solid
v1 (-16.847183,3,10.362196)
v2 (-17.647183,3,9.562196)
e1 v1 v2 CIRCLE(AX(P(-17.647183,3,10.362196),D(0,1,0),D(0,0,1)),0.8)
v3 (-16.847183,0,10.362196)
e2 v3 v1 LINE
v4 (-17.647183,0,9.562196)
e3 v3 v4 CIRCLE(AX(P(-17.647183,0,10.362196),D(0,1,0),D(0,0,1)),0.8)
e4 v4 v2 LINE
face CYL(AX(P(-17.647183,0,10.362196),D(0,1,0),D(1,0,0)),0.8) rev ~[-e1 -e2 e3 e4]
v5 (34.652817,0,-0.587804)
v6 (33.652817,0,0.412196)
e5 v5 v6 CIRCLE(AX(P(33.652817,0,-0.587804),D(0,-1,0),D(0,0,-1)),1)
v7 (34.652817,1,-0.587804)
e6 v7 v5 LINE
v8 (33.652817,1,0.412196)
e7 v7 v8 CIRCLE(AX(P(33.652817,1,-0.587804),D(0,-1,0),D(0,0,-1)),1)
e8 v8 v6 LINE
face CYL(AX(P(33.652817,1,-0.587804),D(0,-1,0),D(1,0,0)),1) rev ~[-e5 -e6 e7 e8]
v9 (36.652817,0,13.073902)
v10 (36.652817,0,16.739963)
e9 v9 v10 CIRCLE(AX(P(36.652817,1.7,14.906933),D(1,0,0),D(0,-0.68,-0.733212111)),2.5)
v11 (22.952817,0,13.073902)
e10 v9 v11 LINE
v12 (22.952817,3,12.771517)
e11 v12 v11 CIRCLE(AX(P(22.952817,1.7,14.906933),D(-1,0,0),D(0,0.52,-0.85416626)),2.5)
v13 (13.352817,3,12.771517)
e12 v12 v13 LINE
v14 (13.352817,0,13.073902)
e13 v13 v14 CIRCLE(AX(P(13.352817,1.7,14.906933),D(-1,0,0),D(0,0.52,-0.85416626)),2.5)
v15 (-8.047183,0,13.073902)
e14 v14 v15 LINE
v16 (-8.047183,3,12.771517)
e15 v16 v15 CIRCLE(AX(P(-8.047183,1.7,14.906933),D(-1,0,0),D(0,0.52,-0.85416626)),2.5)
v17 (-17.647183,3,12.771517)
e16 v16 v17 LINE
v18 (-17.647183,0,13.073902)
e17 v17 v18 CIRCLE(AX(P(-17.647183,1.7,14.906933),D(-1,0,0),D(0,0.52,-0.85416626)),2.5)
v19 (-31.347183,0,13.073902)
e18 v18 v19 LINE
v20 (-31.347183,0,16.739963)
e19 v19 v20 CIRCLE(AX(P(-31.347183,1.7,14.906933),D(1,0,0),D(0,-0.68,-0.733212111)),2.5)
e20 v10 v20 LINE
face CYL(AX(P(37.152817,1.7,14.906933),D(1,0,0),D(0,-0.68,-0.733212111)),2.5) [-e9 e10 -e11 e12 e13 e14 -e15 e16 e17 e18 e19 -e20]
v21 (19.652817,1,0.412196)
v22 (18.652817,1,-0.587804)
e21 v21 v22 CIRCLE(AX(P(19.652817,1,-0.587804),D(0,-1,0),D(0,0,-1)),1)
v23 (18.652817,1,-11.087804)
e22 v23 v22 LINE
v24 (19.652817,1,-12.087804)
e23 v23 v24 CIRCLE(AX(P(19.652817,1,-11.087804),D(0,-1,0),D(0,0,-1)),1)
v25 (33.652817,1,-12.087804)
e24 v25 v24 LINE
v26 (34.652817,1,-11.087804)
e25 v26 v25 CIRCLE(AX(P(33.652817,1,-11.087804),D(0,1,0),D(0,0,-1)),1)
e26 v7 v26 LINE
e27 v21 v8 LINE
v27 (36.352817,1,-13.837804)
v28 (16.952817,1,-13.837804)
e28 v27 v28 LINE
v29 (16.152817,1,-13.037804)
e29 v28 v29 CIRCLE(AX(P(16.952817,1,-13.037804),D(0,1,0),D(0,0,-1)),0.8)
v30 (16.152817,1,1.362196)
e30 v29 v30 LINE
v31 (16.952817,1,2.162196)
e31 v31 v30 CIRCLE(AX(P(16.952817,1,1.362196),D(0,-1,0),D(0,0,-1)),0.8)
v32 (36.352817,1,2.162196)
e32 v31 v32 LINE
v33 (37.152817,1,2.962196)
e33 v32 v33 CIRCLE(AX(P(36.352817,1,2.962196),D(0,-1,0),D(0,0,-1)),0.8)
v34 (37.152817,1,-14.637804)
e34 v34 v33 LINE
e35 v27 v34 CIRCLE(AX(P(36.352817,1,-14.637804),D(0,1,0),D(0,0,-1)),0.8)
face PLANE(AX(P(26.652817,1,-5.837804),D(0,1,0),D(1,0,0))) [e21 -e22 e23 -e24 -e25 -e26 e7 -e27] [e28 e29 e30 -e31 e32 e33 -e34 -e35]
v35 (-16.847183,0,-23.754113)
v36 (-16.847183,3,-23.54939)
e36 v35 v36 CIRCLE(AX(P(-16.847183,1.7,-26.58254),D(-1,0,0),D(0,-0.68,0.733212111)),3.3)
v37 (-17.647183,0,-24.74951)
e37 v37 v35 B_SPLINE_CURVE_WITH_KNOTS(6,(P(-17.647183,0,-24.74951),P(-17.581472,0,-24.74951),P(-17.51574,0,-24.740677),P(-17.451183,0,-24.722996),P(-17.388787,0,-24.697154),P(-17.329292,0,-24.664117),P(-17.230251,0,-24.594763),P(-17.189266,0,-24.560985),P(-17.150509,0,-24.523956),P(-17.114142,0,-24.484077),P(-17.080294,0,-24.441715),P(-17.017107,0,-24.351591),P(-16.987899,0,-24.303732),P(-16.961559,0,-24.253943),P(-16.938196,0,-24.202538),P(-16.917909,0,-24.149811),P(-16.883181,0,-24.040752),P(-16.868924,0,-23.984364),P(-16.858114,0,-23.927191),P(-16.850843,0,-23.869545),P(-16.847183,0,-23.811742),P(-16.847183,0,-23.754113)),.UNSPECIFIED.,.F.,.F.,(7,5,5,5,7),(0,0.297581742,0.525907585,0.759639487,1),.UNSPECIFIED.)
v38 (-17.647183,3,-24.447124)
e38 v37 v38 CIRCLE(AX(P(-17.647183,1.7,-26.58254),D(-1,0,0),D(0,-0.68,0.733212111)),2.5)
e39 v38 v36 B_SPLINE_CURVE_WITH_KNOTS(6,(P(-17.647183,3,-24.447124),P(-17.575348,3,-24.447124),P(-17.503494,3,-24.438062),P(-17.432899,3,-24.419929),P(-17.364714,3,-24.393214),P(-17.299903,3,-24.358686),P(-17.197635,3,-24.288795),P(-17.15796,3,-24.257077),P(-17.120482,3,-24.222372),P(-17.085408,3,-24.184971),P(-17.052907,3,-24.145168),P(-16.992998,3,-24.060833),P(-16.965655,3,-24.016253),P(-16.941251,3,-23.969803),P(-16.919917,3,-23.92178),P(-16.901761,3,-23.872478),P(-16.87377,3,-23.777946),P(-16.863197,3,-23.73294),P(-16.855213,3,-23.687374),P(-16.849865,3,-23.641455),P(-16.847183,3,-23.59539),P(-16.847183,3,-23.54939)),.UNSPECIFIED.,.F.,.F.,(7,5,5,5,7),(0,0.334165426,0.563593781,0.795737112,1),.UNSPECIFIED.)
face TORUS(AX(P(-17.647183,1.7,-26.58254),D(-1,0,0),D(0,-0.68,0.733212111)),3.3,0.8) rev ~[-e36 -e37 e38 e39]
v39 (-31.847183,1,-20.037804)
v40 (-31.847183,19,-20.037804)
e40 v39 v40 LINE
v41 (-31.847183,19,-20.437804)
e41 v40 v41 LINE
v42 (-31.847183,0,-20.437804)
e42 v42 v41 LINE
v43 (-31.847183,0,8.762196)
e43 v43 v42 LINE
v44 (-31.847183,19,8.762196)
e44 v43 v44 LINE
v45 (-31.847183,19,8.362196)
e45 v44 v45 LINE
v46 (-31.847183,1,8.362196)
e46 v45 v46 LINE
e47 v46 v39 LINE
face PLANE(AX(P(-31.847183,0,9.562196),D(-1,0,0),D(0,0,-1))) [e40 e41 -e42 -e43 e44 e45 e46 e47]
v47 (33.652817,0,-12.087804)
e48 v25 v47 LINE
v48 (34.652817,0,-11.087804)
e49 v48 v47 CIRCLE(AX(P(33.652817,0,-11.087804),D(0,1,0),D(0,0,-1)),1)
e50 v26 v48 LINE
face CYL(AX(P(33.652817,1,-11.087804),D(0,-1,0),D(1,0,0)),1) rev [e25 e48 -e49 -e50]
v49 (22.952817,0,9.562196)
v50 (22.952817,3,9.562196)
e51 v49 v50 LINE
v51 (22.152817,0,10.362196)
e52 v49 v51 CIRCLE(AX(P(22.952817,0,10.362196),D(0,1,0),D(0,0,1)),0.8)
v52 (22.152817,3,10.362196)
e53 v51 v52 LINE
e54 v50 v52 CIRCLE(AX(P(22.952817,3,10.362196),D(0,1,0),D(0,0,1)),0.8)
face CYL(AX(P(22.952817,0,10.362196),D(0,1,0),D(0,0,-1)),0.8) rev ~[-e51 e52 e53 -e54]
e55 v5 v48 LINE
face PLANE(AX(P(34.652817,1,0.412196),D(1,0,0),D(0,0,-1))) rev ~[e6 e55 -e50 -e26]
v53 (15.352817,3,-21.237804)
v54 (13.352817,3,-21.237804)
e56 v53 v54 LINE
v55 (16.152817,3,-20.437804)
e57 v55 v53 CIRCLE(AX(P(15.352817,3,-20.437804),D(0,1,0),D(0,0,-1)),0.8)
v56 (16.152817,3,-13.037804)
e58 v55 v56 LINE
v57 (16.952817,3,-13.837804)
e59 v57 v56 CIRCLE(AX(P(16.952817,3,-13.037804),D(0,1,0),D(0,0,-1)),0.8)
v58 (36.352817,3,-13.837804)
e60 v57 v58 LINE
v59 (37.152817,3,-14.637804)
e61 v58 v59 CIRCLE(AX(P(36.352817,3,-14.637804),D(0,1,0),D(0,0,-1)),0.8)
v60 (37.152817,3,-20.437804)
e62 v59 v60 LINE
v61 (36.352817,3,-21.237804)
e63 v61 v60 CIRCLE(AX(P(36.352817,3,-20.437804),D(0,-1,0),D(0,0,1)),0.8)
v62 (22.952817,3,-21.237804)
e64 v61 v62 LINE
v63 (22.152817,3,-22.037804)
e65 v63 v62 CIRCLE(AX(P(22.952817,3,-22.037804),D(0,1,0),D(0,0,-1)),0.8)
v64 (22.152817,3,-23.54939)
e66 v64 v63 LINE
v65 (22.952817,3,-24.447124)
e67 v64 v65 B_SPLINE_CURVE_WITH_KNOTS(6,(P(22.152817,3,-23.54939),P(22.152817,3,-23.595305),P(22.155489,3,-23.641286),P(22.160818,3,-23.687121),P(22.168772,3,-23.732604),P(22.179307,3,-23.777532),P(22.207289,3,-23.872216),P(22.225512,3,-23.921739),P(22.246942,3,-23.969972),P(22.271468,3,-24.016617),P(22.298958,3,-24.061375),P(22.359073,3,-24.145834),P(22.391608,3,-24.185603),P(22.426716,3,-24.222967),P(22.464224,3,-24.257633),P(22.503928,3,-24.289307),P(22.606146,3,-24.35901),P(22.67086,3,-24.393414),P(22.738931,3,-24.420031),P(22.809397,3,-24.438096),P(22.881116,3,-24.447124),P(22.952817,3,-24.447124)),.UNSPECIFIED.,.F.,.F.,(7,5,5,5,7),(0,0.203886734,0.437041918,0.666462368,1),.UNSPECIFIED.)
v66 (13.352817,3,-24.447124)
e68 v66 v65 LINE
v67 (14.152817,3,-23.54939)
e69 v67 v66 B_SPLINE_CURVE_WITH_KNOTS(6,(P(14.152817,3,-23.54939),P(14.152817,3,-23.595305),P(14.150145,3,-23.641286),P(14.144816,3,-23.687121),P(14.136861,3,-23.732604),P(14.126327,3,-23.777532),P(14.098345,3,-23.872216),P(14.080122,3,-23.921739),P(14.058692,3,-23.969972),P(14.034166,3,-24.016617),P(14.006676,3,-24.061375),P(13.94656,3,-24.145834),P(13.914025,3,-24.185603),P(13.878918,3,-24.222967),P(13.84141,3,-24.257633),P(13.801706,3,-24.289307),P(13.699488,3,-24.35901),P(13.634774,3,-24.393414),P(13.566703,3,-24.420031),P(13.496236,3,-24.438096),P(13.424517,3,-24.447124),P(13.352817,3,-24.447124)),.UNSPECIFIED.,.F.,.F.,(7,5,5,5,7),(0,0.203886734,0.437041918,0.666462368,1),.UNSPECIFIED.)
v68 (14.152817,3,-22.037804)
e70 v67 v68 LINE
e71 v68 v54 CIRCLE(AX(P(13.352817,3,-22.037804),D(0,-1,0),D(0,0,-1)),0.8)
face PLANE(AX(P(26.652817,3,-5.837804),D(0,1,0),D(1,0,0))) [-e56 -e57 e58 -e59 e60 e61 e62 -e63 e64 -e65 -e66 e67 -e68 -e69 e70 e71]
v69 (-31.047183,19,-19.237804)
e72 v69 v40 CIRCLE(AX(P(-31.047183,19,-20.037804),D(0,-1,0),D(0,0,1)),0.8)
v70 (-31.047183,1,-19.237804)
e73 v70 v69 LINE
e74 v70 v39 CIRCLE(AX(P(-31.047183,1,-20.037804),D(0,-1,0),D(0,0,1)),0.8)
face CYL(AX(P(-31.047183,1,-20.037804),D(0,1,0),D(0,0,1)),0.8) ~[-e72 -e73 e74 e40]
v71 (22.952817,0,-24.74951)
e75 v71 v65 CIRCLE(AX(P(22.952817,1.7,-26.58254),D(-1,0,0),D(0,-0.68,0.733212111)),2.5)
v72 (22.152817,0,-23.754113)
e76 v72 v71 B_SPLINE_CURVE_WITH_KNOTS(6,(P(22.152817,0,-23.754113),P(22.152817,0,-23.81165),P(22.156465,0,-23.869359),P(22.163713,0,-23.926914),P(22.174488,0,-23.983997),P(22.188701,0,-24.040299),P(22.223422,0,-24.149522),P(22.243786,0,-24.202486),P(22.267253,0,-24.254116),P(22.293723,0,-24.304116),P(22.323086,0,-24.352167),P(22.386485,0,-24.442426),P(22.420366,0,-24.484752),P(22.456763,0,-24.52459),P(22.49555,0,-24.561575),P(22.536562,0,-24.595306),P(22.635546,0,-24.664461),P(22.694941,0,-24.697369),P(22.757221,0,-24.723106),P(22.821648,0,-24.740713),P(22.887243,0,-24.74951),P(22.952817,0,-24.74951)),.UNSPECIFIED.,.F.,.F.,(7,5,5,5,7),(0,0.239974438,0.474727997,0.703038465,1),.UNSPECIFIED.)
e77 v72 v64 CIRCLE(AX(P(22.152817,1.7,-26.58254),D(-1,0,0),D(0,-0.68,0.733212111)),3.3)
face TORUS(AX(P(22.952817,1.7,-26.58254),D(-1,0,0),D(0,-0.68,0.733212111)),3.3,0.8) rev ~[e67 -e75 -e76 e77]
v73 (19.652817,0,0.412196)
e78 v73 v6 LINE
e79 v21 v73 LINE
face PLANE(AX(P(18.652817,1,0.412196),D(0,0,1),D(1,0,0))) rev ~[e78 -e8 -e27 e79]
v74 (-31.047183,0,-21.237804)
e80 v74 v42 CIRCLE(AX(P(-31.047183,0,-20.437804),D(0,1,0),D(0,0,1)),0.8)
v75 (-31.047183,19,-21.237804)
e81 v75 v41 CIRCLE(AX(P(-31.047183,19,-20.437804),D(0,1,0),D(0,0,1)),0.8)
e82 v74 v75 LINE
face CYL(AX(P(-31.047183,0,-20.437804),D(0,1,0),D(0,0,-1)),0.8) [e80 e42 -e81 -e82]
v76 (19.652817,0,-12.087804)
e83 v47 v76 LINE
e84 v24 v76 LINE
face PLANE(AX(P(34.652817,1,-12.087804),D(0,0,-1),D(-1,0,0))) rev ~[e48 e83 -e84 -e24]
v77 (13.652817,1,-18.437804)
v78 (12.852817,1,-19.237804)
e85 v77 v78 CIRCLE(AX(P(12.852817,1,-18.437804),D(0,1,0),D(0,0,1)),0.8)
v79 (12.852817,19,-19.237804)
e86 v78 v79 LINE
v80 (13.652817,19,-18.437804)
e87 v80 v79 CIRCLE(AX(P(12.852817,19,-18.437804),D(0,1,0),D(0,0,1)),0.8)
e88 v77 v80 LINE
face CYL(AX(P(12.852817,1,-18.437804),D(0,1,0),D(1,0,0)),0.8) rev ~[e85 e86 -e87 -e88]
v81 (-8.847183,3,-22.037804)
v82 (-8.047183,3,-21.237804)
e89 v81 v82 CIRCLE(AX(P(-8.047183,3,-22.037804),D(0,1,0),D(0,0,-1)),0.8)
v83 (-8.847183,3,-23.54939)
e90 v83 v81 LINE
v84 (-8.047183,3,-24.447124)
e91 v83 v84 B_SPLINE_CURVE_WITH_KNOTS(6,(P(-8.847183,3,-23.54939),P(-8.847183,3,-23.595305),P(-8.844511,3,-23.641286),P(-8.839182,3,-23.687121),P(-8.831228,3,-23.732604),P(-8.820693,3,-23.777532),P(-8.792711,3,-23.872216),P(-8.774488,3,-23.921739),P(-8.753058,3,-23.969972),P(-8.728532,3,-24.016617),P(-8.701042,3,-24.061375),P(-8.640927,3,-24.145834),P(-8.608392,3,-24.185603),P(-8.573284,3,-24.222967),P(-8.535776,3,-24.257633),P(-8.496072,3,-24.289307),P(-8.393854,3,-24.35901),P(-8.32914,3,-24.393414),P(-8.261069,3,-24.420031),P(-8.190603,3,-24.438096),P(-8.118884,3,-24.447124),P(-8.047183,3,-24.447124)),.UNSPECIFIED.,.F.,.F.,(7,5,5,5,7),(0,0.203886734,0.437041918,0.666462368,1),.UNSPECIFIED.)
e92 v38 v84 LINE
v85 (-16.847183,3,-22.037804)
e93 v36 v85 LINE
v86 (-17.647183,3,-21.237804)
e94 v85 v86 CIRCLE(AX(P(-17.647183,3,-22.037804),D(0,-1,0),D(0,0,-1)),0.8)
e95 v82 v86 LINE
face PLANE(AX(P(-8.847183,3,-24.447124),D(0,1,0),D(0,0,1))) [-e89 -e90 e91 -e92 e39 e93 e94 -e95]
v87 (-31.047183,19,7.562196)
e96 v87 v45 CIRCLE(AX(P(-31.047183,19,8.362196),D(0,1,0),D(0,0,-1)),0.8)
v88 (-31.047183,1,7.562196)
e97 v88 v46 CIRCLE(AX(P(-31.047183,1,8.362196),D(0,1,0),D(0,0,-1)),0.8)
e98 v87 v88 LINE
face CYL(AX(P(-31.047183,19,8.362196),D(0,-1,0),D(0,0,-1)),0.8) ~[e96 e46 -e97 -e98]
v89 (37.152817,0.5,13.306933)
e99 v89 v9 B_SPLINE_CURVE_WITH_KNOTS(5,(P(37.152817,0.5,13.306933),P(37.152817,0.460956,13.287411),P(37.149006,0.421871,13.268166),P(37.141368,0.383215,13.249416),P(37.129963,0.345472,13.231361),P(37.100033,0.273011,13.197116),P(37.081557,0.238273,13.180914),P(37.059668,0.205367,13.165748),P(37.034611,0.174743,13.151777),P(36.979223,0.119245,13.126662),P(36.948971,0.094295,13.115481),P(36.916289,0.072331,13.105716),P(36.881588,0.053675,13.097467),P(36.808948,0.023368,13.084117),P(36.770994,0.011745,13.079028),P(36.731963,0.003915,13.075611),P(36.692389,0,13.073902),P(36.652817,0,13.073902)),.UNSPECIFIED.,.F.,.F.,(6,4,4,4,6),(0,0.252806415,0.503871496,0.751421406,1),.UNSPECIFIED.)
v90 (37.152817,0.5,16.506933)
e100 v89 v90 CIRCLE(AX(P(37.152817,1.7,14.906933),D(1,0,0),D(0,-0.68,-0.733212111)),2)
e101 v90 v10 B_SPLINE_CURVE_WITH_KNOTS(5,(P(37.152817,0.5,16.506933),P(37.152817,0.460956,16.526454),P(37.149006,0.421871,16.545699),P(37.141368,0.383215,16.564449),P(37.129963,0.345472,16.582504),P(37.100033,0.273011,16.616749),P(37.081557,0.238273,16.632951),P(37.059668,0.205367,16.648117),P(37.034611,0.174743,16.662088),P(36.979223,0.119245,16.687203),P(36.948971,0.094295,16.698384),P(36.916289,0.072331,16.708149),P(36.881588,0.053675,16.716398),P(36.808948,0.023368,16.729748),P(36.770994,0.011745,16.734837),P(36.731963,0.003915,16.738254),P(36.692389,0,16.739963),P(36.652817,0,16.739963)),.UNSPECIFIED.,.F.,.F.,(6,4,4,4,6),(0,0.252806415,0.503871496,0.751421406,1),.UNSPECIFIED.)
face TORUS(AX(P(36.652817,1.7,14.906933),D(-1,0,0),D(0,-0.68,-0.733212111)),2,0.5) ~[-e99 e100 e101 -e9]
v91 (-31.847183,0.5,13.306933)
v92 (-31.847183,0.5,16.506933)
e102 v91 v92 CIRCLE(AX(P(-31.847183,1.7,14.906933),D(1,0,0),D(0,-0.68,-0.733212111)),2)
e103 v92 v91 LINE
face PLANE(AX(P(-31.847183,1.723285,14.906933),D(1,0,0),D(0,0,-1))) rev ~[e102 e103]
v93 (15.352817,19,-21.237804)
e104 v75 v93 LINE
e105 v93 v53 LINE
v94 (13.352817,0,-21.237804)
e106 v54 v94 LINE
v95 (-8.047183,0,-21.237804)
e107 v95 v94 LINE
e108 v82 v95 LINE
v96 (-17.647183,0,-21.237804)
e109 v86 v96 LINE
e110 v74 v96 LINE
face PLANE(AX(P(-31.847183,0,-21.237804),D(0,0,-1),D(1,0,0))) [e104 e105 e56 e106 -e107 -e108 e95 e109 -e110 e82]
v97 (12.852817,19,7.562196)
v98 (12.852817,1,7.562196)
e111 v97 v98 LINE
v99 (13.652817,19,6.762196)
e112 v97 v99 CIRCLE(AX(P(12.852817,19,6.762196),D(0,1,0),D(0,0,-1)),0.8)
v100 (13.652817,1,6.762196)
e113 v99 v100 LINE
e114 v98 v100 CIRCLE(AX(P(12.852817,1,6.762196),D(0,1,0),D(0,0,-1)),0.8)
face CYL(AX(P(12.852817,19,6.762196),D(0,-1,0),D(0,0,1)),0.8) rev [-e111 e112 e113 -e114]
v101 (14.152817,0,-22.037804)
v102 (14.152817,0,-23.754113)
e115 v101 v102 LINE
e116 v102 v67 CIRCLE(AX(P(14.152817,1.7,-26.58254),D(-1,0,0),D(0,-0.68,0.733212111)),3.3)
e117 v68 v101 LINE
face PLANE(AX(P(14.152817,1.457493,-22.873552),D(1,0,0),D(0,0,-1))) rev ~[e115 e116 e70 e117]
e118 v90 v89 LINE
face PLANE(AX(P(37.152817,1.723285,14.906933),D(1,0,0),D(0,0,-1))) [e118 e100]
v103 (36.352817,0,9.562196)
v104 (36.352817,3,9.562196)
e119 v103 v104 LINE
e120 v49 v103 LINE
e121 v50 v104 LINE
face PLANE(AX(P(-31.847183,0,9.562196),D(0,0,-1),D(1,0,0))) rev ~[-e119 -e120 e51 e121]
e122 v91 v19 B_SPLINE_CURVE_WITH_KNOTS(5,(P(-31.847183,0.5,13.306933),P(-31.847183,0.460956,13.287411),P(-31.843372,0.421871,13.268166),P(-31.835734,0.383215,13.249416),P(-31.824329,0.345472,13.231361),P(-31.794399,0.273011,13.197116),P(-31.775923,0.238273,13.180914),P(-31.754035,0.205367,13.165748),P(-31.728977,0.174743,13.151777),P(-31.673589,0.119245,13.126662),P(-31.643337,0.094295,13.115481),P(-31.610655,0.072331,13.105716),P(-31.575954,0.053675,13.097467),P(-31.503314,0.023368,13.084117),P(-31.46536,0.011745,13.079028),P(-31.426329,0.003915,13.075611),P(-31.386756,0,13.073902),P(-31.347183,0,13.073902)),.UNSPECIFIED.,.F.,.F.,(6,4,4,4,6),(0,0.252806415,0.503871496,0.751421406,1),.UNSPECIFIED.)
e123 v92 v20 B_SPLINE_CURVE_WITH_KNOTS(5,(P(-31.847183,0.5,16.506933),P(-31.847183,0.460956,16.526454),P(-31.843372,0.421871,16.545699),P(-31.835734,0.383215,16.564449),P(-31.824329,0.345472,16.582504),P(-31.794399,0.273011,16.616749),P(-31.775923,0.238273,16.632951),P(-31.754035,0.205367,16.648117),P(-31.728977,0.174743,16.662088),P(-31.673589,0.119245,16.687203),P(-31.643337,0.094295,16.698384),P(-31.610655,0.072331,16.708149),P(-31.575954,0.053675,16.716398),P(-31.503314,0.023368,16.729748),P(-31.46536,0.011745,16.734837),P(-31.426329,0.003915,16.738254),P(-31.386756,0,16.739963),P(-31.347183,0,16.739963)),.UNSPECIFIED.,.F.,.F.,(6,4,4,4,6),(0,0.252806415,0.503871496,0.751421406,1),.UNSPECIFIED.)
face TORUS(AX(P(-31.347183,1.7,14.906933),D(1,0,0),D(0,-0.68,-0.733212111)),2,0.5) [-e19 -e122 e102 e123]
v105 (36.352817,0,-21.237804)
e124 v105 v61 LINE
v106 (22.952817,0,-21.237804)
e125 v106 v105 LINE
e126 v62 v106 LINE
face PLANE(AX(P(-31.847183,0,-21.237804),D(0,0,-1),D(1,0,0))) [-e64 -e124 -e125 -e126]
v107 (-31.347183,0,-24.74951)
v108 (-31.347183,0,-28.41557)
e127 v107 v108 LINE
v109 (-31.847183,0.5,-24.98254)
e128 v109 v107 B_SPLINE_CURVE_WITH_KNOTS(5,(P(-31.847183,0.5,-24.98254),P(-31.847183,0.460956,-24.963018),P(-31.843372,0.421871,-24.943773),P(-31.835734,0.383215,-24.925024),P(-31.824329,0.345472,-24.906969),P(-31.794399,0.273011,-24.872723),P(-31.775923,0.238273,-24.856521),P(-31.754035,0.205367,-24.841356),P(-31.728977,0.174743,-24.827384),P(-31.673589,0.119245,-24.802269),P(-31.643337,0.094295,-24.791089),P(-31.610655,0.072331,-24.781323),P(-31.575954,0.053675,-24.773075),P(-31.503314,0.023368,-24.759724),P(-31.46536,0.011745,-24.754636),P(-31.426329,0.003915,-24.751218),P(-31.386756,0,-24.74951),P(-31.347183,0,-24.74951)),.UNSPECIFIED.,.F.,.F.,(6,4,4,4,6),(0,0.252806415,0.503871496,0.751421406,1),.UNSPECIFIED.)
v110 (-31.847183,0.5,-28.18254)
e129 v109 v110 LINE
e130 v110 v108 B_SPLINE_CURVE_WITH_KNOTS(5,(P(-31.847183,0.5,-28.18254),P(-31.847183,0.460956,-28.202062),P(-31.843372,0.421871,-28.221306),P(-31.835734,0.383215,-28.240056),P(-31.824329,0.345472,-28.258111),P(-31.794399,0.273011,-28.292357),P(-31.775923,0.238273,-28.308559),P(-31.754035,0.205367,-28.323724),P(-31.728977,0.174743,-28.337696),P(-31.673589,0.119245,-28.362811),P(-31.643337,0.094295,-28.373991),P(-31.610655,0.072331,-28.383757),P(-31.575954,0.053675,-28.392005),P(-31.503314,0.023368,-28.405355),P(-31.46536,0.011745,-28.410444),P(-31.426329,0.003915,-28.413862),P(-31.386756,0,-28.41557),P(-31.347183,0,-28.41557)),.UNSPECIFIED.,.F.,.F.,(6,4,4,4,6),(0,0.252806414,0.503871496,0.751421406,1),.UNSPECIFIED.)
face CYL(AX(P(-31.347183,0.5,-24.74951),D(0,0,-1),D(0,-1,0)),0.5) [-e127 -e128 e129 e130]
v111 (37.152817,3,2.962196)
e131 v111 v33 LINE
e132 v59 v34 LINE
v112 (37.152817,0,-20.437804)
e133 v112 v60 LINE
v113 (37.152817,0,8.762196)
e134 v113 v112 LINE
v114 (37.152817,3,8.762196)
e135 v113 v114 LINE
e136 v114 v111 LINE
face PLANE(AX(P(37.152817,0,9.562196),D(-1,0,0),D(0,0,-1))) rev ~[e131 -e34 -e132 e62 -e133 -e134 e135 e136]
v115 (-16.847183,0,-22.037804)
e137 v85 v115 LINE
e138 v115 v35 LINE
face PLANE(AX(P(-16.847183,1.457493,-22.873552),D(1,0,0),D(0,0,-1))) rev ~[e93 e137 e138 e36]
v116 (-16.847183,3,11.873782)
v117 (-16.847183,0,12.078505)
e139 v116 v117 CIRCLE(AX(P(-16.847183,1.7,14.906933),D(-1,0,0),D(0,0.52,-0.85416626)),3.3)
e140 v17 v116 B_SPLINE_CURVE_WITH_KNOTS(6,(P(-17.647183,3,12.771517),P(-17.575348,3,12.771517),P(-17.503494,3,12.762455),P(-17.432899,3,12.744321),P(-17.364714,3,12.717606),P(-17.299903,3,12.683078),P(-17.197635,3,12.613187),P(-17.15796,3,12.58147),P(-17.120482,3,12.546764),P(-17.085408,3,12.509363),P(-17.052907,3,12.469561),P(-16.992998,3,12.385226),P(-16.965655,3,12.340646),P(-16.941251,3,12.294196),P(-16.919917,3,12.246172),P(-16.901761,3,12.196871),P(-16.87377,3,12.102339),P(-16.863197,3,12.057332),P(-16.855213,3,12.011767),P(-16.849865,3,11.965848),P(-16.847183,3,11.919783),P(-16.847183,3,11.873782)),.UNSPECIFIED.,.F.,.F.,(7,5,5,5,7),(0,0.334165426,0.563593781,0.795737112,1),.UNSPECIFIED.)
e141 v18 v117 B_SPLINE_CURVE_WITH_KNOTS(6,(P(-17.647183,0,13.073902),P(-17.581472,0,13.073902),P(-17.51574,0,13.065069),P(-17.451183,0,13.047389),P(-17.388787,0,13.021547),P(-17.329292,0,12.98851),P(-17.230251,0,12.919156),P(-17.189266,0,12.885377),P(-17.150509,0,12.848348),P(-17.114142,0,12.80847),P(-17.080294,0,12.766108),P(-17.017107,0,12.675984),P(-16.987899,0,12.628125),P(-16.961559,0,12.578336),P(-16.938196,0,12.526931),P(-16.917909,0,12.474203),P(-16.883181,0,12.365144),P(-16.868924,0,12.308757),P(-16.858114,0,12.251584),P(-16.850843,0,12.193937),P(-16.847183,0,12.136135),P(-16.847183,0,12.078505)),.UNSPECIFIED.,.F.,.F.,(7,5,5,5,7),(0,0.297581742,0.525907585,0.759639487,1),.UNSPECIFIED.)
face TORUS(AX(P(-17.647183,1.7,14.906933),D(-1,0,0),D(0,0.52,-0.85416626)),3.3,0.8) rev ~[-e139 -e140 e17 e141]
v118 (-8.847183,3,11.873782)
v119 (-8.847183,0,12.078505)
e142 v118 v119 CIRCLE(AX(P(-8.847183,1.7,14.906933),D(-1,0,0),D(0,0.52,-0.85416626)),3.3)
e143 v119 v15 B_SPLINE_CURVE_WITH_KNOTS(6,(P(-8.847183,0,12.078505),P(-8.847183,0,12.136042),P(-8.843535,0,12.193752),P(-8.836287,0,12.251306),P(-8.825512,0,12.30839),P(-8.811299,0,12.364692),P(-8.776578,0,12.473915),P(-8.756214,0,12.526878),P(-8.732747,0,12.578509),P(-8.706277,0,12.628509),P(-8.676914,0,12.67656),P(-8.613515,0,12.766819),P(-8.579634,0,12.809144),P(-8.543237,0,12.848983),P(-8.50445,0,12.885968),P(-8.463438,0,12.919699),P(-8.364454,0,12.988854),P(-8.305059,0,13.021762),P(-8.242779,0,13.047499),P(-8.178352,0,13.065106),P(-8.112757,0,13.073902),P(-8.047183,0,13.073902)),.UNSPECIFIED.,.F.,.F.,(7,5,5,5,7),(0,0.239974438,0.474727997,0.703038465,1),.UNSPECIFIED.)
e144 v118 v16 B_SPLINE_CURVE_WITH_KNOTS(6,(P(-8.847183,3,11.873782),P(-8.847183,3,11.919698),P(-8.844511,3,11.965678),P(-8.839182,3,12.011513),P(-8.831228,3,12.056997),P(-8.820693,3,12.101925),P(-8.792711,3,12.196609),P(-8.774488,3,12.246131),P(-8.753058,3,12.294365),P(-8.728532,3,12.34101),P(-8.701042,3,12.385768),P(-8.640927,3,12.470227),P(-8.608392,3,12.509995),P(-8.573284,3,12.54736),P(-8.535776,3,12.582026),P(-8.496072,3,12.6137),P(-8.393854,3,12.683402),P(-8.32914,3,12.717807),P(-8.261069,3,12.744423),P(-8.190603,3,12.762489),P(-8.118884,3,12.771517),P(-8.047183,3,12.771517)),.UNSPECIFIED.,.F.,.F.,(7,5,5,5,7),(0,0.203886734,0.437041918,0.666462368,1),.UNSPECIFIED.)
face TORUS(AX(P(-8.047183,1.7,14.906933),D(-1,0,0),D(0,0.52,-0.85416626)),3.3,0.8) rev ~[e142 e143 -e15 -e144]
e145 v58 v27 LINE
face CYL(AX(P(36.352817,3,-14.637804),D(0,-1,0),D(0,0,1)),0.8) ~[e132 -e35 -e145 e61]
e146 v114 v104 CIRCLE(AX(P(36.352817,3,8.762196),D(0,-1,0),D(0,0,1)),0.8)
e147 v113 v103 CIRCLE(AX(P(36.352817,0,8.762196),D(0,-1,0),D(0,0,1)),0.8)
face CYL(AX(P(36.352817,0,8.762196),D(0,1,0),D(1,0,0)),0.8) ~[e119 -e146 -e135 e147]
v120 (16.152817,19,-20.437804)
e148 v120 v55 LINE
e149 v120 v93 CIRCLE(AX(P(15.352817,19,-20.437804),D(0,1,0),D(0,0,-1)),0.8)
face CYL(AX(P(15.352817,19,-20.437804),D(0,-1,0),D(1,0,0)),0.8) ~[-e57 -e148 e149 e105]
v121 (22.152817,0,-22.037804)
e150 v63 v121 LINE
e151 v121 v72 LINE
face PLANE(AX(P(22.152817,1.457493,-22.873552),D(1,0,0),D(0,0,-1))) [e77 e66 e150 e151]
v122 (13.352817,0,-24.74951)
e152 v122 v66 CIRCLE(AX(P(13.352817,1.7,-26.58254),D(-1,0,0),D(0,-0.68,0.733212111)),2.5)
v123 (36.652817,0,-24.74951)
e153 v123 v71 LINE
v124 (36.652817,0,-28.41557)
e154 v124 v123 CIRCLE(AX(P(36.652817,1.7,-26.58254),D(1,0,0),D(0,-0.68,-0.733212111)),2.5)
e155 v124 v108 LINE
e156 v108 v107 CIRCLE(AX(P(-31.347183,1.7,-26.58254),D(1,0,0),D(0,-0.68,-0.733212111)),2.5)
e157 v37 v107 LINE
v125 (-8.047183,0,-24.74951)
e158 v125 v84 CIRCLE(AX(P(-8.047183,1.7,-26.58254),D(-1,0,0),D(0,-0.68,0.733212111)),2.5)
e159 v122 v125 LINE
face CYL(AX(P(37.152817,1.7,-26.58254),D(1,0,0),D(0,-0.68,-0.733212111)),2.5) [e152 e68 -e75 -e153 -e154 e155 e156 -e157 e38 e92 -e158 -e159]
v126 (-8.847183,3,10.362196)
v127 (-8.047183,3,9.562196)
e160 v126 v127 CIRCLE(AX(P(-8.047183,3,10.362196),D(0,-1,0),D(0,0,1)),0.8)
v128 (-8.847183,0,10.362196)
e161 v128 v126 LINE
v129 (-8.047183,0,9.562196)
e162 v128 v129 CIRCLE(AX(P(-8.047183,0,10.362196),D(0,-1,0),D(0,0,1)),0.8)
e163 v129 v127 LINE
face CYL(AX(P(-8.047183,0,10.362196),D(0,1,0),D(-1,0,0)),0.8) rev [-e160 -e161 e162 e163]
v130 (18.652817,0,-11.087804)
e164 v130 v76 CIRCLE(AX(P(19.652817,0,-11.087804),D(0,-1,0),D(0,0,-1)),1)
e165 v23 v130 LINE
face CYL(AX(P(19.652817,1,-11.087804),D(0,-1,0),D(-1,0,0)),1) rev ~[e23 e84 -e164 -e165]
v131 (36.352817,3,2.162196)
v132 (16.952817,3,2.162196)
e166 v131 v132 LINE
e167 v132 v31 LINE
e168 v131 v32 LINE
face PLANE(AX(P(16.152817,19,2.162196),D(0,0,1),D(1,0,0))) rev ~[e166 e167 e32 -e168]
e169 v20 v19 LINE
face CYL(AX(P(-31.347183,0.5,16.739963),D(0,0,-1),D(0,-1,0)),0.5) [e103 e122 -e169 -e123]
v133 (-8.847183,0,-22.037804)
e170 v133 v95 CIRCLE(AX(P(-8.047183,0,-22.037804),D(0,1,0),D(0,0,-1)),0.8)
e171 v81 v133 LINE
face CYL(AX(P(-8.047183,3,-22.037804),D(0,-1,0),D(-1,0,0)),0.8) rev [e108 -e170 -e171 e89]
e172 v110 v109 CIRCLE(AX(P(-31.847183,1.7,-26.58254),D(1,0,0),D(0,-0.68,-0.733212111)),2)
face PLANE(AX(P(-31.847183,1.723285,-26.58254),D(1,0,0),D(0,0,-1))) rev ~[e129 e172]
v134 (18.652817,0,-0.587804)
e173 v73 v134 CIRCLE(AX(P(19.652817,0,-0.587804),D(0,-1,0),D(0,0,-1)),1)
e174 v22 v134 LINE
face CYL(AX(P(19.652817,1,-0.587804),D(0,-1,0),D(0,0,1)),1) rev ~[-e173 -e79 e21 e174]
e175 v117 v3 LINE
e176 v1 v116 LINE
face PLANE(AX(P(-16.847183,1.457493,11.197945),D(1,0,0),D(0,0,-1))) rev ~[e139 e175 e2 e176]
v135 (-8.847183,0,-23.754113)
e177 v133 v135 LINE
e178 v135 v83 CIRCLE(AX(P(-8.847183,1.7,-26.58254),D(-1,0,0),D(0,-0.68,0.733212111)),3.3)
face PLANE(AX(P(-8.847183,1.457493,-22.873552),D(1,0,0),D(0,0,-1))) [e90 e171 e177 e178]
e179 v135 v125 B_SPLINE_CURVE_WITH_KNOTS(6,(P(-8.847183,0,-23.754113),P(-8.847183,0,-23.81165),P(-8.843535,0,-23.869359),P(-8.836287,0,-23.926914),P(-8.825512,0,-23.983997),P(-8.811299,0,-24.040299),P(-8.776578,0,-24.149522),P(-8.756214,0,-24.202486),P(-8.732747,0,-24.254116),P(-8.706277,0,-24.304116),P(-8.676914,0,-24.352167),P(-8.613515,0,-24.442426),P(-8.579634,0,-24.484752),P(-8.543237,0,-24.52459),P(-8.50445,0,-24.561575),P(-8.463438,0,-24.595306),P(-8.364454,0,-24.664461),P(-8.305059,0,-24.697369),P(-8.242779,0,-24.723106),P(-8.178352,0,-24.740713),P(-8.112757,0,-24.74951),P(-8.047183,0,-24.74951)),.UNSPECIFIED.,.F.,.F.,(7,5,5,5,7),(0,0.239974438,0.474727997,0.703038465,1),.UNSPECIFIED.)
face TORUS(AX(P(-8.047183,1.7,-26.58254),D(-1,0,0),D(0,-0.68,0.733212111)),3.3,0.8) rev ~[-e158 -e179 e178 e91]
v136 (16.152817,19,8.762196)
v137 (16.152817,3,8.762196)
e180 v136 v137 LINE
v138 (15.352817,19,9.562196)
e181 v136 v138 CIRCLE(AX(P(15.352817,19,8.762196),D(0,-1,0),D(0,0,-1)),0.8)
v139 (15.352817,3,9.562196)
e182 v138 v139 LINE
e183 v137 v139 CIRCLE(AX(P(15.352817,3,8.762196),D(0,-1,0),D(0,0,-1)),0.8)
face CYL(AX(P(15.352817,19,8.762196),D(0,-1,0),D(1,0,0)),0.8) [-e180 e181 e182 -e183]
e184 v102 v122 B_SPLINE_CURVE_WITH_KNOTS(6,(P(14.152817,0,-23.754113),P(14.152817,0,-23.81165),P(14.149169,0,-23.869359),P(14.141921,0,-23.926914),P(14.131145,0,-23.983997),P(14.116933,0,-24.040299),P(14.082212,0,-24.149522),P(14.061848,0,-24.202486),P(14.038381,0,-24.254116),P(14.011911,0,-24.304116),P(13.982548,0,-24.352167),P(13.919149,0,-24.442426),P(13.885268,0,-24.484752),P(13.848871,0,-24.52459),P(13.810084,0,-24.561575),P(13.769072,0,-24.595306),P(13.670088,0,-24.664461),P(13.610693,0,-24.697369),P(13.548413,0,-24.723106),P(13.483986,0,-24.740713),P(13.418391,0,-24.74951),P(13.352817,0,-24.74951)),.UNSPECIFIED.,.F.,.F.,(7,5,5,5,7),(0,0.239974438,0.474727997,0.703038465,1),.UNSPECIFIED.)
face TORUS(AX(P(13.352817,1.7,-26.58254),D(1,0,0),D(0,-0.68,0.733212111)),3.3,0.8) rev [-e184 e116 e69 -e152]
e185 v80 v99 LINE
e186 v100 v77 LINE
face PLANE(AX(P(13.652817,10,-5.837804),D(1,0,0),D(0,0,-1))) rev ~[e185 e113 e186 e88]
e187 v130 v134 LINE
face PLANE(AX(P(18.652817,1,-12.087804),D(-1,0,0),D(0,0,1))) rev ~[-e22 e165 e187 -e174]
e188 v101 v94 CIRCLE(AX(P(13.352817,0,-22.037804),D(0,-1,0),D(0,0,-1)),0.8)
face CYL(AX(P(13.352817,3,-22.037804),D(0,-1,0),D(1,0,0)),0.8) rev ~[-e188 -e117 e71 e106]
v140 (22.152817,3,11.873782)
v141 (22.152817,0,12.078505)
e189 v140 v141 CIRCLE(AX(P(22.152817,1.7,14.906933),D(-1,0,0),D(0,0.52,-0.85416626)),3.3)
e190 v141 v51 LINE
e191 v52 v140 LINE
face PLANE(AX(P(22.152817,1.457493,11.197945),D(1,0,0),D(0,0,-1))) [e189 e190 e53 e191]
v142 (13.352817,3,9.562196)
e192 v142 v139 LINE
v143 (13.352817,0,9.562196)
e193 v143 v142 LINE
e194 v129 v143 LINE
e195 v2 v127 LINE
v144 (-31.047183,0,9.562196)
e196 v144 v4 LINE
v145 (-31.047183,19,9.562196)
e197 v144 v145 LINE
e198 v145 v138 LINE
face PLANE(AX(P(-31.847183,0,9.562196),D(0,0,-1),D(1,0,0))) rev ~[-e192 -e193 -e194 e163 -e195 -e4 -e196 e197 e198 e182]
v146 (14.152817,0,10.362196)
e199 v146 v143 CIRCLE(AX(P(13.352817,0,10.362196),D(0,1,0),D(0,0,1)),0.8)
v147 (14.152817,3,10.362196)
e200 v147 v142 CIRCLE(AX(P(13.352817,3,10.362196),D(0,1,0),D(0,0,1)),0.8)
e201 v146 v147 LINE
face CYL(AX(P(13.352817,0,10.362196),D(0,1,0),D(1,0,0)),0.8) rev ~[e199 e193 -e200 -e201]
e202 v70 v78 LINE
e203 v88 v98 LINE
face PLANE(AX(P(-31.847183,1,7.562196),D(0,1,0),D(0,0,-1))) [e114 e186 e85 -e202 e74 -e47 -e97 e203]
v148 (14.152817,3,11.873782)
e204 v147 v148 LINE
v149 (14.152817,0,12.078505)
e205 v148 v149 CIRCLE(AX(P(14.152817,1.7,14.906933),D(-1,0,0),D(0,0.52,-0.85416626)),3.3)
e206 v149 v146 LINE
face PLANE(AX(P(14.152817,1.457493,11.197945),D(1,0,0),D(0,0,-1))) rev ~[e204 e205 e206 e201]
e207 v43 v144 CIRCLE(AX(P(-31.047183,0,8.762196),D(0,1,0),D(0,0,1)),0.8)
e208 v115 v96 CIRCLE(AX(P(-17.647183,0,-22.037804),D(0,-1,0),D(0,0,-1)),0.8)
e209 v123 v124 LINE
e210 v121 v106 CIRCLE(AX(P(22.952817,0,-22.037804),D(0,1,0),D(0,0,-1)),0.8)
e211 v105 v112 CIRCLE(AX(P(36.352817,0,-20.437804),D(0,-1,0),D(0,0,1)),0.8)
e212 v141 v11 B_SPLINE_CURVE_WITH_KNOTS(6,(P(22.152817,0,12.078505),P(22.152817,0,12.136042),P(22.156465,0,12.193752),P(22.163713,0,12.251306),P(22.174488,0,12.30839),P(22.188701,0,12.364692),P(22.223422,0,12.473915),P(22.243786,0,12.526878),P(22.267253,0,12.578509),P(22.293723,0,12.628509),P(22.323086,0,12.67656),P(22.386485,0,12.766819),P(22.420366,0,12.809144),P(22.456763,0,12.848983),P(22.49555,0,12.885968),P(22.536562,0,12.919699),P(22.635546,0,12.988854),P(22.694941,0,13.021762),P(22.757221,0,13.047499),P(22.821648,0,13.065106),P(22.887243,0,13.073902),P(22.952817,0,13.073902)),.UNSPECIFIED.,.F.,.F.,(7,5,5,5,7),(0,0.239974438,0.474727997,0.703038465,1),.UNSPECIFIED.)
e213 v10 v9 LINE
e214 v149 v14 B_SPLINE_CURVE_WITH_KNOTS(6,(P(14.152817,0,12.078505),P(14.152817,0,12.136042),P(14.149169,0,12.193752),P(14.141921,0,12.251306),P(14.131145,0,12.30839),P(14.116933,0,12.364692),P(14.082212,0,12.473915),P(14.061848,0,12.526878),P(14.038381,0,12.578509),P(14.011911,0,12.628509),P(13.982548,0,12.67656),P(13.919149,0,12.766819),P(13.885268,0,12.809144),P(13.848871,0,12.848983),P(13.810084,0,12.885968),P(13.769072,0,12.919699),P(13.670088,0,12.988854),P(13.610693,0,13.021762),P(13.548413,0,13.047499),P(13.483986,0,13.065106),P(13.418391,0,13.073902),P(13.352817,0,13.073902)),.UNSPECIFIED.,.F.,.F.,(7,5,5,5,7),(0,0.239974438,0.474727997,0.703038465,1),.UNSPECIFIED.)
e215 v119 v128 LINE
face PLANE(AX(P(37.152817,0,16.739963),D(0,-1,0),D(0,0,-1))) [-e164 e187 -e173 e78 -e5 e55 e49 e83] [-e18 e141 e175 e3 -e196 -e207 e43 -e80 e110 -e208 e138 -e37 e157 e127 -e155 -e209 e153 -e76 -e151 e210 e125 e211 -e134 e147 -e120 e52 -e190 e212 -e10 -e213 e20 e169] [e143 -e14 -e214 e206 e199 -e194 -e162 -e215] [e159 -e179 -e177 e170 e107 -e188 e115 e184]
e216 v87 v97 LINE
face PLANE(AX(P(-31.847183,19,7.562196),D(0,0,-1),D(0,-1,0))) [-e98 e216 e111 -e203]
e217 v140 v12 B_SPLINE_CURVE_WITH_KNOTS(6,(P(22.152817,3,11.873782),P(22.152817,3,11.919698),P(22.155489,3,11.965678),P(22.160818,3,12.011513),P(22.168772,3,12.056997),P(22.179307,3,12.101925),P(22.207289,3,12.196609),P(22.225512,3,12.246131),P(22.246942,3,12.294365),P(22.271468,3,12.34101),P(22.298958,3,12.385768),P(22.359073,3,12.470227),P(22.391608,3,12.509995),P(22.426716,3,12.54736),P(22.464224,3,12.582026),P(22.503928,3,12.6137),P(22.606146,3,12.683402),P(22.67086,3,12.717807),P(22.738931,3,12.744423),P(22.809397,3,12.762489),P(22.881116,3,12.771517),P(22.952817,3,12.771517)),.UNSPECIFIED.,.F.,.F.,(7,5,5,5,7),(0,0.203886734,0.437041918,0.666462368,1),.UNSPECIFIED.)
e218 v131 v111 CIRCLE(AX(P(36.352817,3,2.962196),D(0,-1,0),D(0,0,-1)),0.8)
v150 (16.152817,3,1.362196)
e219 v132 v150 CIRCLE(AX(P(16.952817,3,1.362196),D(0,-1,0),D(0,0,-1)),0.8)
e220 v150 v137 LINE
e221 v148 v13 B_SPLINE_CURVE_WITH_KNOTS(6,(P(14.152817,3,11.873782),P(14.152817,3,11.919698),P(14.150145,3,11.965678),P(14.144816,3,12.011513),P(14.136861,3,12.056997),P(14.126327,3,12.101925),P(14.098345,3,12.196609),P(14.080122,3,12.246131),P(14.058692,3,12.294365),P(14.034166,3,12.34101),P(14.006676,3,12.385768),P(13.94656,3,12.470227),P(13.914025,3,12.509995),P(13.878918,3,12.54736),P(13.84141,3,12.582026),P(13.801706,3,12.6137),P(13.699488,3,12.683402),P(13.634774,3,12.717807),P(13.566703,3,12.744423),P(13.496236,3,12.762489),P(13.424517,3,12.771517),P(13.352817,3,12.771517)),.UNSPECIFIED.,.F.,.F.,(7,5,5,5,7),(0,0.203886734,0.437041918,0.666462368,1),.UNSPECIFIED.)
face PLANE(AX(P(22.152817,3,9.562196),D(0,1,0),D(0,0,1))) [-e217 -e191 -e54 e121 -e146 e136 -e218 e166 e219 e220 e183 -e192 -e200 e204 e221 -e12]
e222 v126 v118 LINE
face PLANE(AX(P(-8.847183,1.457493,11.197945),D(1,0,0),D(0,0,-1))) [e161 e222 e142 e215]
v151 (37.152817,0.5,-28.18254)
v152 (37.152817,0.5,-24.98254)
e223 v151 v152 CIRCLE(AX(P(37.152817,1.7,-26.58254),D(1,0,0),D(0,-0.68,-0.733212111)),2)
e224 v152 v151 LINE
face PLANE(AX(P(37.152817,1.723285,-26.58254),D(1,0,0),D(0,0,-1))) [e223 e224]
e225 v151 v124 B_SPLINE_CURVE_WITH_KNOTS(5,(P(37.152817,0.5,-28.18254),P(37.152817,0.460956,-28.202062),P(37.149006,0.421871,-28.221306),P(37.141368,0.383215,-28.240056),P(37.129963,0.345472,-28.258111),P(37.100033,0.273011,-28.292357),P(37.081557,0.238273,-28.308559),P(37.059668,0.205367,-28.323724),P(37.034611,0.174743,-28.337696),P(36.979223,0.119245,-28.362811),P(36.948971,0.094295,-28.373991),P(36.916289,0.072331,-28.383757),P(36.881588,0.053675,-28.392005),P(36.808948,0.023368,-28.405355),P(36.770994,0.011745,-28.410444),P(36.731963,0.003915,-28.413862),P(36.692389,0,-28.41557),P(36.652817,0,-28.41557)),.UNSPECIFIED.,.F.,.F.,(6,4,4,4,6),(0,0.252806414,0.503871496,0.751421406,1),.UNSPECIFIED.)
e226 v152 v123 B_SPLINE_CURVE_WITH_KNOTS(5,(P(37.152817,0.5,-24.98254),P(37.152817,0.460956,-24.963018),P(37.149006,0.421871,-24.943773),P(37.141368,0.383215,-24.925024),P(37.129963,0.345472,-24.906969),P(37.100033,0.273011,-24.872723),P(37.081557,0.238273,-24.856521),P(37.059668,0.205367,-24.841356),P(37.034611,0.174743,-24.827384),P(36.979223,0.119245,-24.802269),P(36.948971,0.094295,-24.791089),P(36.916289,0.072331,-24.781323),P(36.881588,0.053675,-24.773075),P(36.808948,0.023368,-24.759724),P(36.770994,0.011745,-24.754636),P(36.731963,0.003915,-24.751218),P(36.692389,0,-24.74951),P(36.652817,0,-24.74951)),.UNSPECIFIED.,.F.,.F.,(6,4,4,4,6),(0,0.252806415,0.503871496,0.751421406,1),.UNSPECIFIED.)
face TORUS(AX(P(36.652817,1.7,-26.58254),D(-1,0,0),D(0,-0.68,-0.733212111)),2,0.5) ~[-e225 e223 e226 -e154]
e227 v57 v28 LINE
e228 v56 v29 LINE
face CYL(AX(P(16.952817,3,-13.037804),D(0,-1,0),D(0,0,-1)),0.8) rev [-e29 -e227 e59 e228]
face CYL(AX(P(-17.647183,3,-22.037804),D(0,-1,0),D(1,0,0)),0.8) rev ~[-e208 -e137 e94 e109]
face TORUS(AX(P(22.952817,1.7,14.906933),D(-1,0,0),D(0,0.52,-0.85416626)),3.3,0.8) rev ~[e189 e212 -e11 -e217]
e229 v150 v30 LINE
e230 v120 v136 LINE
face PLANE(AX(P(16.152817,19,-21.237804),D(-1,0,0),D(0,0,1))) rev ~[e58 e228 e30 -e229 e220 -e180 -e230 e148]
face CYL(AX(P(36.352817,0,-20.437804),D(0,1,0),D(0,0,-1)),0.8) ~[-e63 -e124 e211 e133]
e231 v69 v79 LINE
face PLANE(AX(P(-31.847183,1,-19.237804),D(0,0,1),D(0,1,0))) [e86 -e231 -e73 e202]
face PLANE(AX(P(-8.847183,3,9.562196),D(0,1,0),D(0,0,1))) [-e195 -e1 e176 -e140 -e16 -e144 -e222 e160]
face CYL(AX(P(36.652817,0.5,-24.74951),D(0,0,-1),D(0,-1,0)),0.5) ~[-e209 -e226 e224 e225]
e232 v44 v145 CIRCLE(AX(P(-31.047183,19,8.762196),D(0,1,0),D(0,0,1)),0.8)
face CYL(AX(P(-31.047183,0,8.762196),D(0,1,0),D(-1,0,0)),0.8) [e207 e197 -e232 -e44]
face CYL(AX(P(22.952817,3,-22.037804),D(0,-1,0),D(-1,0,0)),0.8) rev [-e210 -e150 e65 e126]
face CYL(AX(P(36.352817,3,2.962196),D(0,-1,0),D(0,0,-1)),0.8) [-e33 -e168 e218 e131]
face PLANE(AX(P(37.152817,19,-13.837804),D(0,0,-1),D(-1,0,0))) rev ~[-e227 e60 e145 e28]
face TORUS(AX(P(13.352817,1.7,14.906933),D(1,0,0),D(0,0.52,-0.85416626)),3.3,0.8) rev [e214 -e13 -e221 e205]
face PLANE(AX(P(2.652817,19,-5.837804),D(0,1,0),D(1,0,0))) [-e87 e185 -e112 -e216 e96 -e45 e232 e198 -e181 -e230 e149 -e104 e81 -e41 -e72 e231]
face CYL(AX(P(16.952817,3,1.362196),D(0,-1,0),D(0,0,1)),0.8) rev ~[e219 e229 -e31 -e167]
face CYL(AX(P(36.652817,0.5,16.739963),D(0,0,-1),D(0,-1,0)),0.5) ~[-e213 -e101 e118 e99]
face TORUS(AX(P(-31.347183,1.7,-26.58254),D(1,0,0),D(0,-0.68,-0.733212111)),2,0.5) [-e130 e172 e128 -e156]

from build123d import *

# Parameters (mm, degrees)
SKETCH1_W             = 69
SKETCH1_H             = 30.800000000000004
BOSS_EXTRUDE1_DEPTH   = 19
CUT_EXTRUDE1_DEPTH    = 45.5
BOSS_EXTRUDE2_DEPTH   = 69
BOSS_EXTRUDE2_2_DEPTH = 69
BOSS_EXTRUDE3_START   = -15
BOSS_EXTRUDE3_DEPTH   = 8
BOSS_EXTRUDE4_START   = -46
BOSS_EXTRUDE4_DEPTH   = 8
CUT_EXTRUDE2_DEPTH    = 18
CUT_EXTRUDE3_DEPTH    = 1
FILLET1_R             = 1
CUT_EXTRUDE4_DEPTH    = 16
FILLET2_R             = 0.8
FILLET3_R             = 0.8
FILLET4_R             = 0.5


with BuildPart() as part:
    # Sketch1 → Boss-Extrude1 (new body)
    with BuildSketch(Plane(origin=(0, 0, 0), x_dir=(1, 0, 0), z_dir=(0, 1, 0))):
        with Locations((2.6528168916095805, 5.837803683949667)):
            Rectangle(SKETCH1_W, SKETCH1_H)
    extrude(amount=BOSS_EXTRUDE1_DEPTH)

    # Sketch2 → Cut-Extrude1 (cut)
    with BuildSketch(Plane.ZY.offset(31.84718310839042)):
        Polygon((-19.237803683949668, 19), (7.562196316050335, 19), (7.562196316050335, 1.0000000000000009), (-19.237803683949664, 1.0000000000000009), align=None)
    extrude(amount=-CUT_EXTRUDE1_DEPTH, mode=Mode.SUBTRACT)



with BuildPart() as body_2:
    # Sketch3 → Boss-Extrude2 (new, through all)
    with BuildSketch(Plane(origin=(37.15281689160958, 0, 0), x_dir=(0, 0, -1), z_dir=(1, 0, 0))):
        with BuildLine():
            ThreePointArc((24.44712422078546, 3.0000000000000018), (24.095143487091267, 1.4492825726759526), (24.74950959320939, -8.9e-16))
            Line((24.74950959320939, 0), (28.415570149174055, 0))
            ThreePointArc((28.415570149174055, 2.2e-16), (28.90983182698023, 0.7869216065845822), (29.08253987119172, 1.6999999999999993))
            ThreePointArc((29.08253987119172, 1.7), (27.25761796814953, 4.107128904526681), (24.44712422078546, 3.0000000000000018))
        make_face()
    extrude(amount=-BOSS_EXTRUDE2_DEPTH)


with BuildPart() as body_3:
    # Sketch3 → Boss-Extrude2 2 (new, through all)
    with BuildSketch(Plane(origin=(37.15281689160958, 0, 0), x_dir=(0, 0, -1), z_dir=(1, 0, 0))):
        with BuildLine():
            ThreePointArc((-12.406932503292389, 1.6999999999999946), (-12.499803598765705, 2.3750780969578003), (-12.771516852886126, 2.999999999999995))
            ThreePointArc((-12.77151685288614, 2.9999999999999867), (-16.414532990279557, 3.694277004740301), (-16.739962781274716, 1.021e-14))
            Line((-16.73996278127473, -3e-16), (-13.073902225310047, -8e-17))
            ThreePointArc((-13.073902225310047, 0), (-12.579640547503875, 0.7869216065845805), (-12.406932503292389, 1.6999999999999946))
        make_face()
    extrude(amount=-BOSS_EXTRUDE2_2_DEPTH)


with BuildPart() as part_1:
    add(part.part)

    add(body_2.part)  # Boss-Extrude3 merges body 2

    add(body_3.part)  # Boss-Extrude3 merges body 3
    # Sketch3<3> → Boss-Extrude3 (add)
    with BuildSketch(Plane(origin=(37.15281689160958, 0, 0), x_dir=(0, 0, -1), z_dir=(1, 0, 0)).offset(BOSS_EXTRUDE3_START)):
        with BuildLine():
            Line((21.237803683949668, 0), (24.74950959320939, 0))
            ThreePointArc((24.74950959320939, -8.9e-16), (24.095143487091267, 1.4492825726759526), (24.44712422078546, 3.0000000000000018))
            Line((24.44712422078546, 3), (21.237803683949668, 3))
            Line((21.237803683949668, 3), (21.237803683949668, 0))
        make_face()
        with BuildLine():
            Line((-9.562196316050334, 0), (-9.562196316050338, 2.999999999999996))
            Line((-9.562196316050338, 2.999999999999996), (-12.771516852886126, 2.999999999999995))
            ThreePointArc((-12.771516852886126, 2.999999999999996), (-12.419536119191934, 1.4492825726759506), (-13.073902225310047, -1.33e-15))
            Line((-13.073902225310047, -8e-17), (-9.562196316050334, 0))
        make_face()
    extrude(amount=-BOSS_EXTRUDE3_DEPTH)

    # Sketch3<5> → Boss-Extrude4 (add)
    with BuildSketch(Plane(origin=(37.15281689160958, 0, 0), x_dir=(0, 0, -1), z_dir=(1, 0, 0)).offset(BOSS_EXTRUDE4_START)):
        with BuildLine():
            Line((21.237803683949668, 0), (24.74950959320939, 0))
            ThreePointArc((24.74950959320939, -8.9e-16), (24.095143487091267, 1.4492825726759526), (24.44712422078546, 3.0000000000000018))
            Line((24.44712422078546, 3), (21.237803683949668, 3))
            Line((21.237803683949668, 3), (21.237803683949668, 0))
        make_face()
        with BuildLine():
            Line((-9.562196316050334, 0), (-9.562196316050338, 2.999999999999996))
            Line((-9.562196316050338, 2.999999999999996), (-12.771516852886126, 2.999999999999995))
            ThreePointArc((-12.771516852886126, 2.999999999999996), (-12.419536119191934, 1.4492825726759506), (-13.073902225310047, -1.33e-15))
            Line((-13.073902225310047, -8e-17), (-9.562196316050334, 0))
        make_face()
    extrude(amount=-BOSS_EXTRUDE4_DEPTH)

    # Sketch4 → Cut-Extrude2 (cut)
    with BuildSketch(Plane(origin=(0, 19, 0), x_dir=(1, 0, 0), z_dir=(0, 1, 0))):
        Polygon((37.15281689160959, 13.837803683949673), (16.15281689160959, 13.837803683949659), (16.152816891609582, -2.1621963160503404), (37.152816891609596, -2.1621963160503386), align=None)
    extrude(amount=-CUT_EXTRUDE2_DEPTH, mode=Mode.SUBTRACT)

    # Sketch5 → Cut-Extrude3 (cut)
    with BuildSketch(Plane(origin=(0, 1, 0), x_dir=(1, 0, 0), z_dir=(0, 1, 0))):
        Polygon((34.65281689160959, 12.087803683949668), (18.652816891609586, 12.087803683949668), (18.652816891609586, -0.4121963160503323), (34.65281689160959, -0.4121963160503333), align=None)
    extrude(amount=-CUT_EXTRUDE3_DEPTH, mode=Mode.SUBTRACT)

    # Fillet1
    fillet1_edges = [part_1.edges().sort_by_distance(p)[0] for p in [
        (34.65281689160959, 0.5, -12.087803683949668),
        (34.65281689160959, 0.5, 0.4121963160503333),
        (18.652816891609586, 0.5, 0.4121963160503323),
        (18.652816891609586, 0.5, -12.087803683949668),
    ]]
    fillet(fillet1_edges, radius=FILLET1_R)

    # Sketch6 → Cut-Extrude4 (cut)
    with BuildSketch(Plane(origin=(0, 19, 0), x_dir=(1, 0, 0), z_dir=(0, 1, 0))):
        Polygon((37.15281689160958, 21.237803683949668), (16.152816891609582, 21.237803683949664), (16.1528168916096, -9.562196316050334), (37.15281689160959, -9.562196316050334), align=None)
    extrude(amount=-CUT_EXTRUDE4_DEPTH, mode=Mode.SUBTRACT)

    # Fillet2
    fillet2_edges = [part_1.edges().sort_by_distance(p)[0] for p in [
        (16.1528168916096, 11, 9.562196316050334),
        (16.152816891609582, 11, -21.237803683949664),
        (13.652816891609579, 10, -19.237803683949664),
        (13.652816891609579, 10, 7.562196316050335),
        (-31.84718310839042, 10, -19.237803683949664),
        (-31.84718310839042, 10, 7.562196316050335),
        (-31.84718310839042, 9.5, -21.237803683949668),
        (-31.84718310839042, 9.5, 9.562196316050334),
    ]]
    fillet(fillet2_edges, radius=FILLET2_R)

    # Fillet3
    fillet3_edges = [part_1.edges().sort_by_distance(p)[0] for p in [
        (16.15281689160959, 2, -13.837803683949659),
        (16.152816891609582, 2, 2.1621963160503404),
        (37.152816891609596, 2, 2.1621963160503386),
        (37.15281689160959, 2, -13.837803683949673),
        (37.15281689160958, 1.5, -21.237803683949668),
        (37.15281689160958, 1.5, 9.562196316050334),
        (22.152816891609582, 1.4492825726759504, 12.419536119191934),
        (22.152816891609582, 1.499999999999998, 9.562196316050336),
        (14.152816891609582, 1.4492825726759504, 12.419536119191934),
        (14.152816891609582, 1.499999999999998, 9.562196316050336),
        (22.152816891609582, 1.4492825726759522, -24.095143487091267),
        (22.152816891609582, 1.5, -21.237803683949668),
        (14.152816891609582, 1.4492825726759522, -24.095143487091267),
        (14.152816891609582, 1.5, -21.237803683949668),
        (-8.847183108390418, 1.4492825726759504, 12.419536119191934),
        (-8.847183108390418, 1.499999999999998, 9.562196316050336),
        (-16.847183108390418, 1.4492825726759504, 12.419536119191934),
        (-16.847183108390418, 1.499999999999998, 9.562196316050336),
        (-8.847183108390418, 1.4492825726759522, -24.095143487091267),
        (-8.847183108390418, 1.5, -21.237803683949668),
        (-16.847183108390418, 1.4492825726759522, -24.095143487091267),
        (-16.847183108390418, 1.5, -21.237803683949668),
    ]]
    fillet(fillet3_edges, radius=FILLET3_R)

    # Fillet4
    fillet4_edges = [part_1.edges().sort_by_distance(p)[0] for p in [
        (37.15281689160958, 4.199999999999978, 14.90693250329239),
        (37.15281689160958, -1.9e-16, 14.906932503292389),
        (-31.847183108390418, 4.199999999999998, 14.906932503292396),
        (-31.847183108390418, -1.9e-16, 14.906932503292389),
        (-31.847183108390418, 4.200000000000031, -26.582539871191685),
        (-31.847183108390418, 0, -26.58253987119172),
        (37.15281689160958, 4.199999999999992, -26.582539871191706),
        (37.15281689160958, 0, -26.58253987119172),
    ]]
    fillet(fillet4_edges, radius=FILLET4_R)


solid = part_1.part
